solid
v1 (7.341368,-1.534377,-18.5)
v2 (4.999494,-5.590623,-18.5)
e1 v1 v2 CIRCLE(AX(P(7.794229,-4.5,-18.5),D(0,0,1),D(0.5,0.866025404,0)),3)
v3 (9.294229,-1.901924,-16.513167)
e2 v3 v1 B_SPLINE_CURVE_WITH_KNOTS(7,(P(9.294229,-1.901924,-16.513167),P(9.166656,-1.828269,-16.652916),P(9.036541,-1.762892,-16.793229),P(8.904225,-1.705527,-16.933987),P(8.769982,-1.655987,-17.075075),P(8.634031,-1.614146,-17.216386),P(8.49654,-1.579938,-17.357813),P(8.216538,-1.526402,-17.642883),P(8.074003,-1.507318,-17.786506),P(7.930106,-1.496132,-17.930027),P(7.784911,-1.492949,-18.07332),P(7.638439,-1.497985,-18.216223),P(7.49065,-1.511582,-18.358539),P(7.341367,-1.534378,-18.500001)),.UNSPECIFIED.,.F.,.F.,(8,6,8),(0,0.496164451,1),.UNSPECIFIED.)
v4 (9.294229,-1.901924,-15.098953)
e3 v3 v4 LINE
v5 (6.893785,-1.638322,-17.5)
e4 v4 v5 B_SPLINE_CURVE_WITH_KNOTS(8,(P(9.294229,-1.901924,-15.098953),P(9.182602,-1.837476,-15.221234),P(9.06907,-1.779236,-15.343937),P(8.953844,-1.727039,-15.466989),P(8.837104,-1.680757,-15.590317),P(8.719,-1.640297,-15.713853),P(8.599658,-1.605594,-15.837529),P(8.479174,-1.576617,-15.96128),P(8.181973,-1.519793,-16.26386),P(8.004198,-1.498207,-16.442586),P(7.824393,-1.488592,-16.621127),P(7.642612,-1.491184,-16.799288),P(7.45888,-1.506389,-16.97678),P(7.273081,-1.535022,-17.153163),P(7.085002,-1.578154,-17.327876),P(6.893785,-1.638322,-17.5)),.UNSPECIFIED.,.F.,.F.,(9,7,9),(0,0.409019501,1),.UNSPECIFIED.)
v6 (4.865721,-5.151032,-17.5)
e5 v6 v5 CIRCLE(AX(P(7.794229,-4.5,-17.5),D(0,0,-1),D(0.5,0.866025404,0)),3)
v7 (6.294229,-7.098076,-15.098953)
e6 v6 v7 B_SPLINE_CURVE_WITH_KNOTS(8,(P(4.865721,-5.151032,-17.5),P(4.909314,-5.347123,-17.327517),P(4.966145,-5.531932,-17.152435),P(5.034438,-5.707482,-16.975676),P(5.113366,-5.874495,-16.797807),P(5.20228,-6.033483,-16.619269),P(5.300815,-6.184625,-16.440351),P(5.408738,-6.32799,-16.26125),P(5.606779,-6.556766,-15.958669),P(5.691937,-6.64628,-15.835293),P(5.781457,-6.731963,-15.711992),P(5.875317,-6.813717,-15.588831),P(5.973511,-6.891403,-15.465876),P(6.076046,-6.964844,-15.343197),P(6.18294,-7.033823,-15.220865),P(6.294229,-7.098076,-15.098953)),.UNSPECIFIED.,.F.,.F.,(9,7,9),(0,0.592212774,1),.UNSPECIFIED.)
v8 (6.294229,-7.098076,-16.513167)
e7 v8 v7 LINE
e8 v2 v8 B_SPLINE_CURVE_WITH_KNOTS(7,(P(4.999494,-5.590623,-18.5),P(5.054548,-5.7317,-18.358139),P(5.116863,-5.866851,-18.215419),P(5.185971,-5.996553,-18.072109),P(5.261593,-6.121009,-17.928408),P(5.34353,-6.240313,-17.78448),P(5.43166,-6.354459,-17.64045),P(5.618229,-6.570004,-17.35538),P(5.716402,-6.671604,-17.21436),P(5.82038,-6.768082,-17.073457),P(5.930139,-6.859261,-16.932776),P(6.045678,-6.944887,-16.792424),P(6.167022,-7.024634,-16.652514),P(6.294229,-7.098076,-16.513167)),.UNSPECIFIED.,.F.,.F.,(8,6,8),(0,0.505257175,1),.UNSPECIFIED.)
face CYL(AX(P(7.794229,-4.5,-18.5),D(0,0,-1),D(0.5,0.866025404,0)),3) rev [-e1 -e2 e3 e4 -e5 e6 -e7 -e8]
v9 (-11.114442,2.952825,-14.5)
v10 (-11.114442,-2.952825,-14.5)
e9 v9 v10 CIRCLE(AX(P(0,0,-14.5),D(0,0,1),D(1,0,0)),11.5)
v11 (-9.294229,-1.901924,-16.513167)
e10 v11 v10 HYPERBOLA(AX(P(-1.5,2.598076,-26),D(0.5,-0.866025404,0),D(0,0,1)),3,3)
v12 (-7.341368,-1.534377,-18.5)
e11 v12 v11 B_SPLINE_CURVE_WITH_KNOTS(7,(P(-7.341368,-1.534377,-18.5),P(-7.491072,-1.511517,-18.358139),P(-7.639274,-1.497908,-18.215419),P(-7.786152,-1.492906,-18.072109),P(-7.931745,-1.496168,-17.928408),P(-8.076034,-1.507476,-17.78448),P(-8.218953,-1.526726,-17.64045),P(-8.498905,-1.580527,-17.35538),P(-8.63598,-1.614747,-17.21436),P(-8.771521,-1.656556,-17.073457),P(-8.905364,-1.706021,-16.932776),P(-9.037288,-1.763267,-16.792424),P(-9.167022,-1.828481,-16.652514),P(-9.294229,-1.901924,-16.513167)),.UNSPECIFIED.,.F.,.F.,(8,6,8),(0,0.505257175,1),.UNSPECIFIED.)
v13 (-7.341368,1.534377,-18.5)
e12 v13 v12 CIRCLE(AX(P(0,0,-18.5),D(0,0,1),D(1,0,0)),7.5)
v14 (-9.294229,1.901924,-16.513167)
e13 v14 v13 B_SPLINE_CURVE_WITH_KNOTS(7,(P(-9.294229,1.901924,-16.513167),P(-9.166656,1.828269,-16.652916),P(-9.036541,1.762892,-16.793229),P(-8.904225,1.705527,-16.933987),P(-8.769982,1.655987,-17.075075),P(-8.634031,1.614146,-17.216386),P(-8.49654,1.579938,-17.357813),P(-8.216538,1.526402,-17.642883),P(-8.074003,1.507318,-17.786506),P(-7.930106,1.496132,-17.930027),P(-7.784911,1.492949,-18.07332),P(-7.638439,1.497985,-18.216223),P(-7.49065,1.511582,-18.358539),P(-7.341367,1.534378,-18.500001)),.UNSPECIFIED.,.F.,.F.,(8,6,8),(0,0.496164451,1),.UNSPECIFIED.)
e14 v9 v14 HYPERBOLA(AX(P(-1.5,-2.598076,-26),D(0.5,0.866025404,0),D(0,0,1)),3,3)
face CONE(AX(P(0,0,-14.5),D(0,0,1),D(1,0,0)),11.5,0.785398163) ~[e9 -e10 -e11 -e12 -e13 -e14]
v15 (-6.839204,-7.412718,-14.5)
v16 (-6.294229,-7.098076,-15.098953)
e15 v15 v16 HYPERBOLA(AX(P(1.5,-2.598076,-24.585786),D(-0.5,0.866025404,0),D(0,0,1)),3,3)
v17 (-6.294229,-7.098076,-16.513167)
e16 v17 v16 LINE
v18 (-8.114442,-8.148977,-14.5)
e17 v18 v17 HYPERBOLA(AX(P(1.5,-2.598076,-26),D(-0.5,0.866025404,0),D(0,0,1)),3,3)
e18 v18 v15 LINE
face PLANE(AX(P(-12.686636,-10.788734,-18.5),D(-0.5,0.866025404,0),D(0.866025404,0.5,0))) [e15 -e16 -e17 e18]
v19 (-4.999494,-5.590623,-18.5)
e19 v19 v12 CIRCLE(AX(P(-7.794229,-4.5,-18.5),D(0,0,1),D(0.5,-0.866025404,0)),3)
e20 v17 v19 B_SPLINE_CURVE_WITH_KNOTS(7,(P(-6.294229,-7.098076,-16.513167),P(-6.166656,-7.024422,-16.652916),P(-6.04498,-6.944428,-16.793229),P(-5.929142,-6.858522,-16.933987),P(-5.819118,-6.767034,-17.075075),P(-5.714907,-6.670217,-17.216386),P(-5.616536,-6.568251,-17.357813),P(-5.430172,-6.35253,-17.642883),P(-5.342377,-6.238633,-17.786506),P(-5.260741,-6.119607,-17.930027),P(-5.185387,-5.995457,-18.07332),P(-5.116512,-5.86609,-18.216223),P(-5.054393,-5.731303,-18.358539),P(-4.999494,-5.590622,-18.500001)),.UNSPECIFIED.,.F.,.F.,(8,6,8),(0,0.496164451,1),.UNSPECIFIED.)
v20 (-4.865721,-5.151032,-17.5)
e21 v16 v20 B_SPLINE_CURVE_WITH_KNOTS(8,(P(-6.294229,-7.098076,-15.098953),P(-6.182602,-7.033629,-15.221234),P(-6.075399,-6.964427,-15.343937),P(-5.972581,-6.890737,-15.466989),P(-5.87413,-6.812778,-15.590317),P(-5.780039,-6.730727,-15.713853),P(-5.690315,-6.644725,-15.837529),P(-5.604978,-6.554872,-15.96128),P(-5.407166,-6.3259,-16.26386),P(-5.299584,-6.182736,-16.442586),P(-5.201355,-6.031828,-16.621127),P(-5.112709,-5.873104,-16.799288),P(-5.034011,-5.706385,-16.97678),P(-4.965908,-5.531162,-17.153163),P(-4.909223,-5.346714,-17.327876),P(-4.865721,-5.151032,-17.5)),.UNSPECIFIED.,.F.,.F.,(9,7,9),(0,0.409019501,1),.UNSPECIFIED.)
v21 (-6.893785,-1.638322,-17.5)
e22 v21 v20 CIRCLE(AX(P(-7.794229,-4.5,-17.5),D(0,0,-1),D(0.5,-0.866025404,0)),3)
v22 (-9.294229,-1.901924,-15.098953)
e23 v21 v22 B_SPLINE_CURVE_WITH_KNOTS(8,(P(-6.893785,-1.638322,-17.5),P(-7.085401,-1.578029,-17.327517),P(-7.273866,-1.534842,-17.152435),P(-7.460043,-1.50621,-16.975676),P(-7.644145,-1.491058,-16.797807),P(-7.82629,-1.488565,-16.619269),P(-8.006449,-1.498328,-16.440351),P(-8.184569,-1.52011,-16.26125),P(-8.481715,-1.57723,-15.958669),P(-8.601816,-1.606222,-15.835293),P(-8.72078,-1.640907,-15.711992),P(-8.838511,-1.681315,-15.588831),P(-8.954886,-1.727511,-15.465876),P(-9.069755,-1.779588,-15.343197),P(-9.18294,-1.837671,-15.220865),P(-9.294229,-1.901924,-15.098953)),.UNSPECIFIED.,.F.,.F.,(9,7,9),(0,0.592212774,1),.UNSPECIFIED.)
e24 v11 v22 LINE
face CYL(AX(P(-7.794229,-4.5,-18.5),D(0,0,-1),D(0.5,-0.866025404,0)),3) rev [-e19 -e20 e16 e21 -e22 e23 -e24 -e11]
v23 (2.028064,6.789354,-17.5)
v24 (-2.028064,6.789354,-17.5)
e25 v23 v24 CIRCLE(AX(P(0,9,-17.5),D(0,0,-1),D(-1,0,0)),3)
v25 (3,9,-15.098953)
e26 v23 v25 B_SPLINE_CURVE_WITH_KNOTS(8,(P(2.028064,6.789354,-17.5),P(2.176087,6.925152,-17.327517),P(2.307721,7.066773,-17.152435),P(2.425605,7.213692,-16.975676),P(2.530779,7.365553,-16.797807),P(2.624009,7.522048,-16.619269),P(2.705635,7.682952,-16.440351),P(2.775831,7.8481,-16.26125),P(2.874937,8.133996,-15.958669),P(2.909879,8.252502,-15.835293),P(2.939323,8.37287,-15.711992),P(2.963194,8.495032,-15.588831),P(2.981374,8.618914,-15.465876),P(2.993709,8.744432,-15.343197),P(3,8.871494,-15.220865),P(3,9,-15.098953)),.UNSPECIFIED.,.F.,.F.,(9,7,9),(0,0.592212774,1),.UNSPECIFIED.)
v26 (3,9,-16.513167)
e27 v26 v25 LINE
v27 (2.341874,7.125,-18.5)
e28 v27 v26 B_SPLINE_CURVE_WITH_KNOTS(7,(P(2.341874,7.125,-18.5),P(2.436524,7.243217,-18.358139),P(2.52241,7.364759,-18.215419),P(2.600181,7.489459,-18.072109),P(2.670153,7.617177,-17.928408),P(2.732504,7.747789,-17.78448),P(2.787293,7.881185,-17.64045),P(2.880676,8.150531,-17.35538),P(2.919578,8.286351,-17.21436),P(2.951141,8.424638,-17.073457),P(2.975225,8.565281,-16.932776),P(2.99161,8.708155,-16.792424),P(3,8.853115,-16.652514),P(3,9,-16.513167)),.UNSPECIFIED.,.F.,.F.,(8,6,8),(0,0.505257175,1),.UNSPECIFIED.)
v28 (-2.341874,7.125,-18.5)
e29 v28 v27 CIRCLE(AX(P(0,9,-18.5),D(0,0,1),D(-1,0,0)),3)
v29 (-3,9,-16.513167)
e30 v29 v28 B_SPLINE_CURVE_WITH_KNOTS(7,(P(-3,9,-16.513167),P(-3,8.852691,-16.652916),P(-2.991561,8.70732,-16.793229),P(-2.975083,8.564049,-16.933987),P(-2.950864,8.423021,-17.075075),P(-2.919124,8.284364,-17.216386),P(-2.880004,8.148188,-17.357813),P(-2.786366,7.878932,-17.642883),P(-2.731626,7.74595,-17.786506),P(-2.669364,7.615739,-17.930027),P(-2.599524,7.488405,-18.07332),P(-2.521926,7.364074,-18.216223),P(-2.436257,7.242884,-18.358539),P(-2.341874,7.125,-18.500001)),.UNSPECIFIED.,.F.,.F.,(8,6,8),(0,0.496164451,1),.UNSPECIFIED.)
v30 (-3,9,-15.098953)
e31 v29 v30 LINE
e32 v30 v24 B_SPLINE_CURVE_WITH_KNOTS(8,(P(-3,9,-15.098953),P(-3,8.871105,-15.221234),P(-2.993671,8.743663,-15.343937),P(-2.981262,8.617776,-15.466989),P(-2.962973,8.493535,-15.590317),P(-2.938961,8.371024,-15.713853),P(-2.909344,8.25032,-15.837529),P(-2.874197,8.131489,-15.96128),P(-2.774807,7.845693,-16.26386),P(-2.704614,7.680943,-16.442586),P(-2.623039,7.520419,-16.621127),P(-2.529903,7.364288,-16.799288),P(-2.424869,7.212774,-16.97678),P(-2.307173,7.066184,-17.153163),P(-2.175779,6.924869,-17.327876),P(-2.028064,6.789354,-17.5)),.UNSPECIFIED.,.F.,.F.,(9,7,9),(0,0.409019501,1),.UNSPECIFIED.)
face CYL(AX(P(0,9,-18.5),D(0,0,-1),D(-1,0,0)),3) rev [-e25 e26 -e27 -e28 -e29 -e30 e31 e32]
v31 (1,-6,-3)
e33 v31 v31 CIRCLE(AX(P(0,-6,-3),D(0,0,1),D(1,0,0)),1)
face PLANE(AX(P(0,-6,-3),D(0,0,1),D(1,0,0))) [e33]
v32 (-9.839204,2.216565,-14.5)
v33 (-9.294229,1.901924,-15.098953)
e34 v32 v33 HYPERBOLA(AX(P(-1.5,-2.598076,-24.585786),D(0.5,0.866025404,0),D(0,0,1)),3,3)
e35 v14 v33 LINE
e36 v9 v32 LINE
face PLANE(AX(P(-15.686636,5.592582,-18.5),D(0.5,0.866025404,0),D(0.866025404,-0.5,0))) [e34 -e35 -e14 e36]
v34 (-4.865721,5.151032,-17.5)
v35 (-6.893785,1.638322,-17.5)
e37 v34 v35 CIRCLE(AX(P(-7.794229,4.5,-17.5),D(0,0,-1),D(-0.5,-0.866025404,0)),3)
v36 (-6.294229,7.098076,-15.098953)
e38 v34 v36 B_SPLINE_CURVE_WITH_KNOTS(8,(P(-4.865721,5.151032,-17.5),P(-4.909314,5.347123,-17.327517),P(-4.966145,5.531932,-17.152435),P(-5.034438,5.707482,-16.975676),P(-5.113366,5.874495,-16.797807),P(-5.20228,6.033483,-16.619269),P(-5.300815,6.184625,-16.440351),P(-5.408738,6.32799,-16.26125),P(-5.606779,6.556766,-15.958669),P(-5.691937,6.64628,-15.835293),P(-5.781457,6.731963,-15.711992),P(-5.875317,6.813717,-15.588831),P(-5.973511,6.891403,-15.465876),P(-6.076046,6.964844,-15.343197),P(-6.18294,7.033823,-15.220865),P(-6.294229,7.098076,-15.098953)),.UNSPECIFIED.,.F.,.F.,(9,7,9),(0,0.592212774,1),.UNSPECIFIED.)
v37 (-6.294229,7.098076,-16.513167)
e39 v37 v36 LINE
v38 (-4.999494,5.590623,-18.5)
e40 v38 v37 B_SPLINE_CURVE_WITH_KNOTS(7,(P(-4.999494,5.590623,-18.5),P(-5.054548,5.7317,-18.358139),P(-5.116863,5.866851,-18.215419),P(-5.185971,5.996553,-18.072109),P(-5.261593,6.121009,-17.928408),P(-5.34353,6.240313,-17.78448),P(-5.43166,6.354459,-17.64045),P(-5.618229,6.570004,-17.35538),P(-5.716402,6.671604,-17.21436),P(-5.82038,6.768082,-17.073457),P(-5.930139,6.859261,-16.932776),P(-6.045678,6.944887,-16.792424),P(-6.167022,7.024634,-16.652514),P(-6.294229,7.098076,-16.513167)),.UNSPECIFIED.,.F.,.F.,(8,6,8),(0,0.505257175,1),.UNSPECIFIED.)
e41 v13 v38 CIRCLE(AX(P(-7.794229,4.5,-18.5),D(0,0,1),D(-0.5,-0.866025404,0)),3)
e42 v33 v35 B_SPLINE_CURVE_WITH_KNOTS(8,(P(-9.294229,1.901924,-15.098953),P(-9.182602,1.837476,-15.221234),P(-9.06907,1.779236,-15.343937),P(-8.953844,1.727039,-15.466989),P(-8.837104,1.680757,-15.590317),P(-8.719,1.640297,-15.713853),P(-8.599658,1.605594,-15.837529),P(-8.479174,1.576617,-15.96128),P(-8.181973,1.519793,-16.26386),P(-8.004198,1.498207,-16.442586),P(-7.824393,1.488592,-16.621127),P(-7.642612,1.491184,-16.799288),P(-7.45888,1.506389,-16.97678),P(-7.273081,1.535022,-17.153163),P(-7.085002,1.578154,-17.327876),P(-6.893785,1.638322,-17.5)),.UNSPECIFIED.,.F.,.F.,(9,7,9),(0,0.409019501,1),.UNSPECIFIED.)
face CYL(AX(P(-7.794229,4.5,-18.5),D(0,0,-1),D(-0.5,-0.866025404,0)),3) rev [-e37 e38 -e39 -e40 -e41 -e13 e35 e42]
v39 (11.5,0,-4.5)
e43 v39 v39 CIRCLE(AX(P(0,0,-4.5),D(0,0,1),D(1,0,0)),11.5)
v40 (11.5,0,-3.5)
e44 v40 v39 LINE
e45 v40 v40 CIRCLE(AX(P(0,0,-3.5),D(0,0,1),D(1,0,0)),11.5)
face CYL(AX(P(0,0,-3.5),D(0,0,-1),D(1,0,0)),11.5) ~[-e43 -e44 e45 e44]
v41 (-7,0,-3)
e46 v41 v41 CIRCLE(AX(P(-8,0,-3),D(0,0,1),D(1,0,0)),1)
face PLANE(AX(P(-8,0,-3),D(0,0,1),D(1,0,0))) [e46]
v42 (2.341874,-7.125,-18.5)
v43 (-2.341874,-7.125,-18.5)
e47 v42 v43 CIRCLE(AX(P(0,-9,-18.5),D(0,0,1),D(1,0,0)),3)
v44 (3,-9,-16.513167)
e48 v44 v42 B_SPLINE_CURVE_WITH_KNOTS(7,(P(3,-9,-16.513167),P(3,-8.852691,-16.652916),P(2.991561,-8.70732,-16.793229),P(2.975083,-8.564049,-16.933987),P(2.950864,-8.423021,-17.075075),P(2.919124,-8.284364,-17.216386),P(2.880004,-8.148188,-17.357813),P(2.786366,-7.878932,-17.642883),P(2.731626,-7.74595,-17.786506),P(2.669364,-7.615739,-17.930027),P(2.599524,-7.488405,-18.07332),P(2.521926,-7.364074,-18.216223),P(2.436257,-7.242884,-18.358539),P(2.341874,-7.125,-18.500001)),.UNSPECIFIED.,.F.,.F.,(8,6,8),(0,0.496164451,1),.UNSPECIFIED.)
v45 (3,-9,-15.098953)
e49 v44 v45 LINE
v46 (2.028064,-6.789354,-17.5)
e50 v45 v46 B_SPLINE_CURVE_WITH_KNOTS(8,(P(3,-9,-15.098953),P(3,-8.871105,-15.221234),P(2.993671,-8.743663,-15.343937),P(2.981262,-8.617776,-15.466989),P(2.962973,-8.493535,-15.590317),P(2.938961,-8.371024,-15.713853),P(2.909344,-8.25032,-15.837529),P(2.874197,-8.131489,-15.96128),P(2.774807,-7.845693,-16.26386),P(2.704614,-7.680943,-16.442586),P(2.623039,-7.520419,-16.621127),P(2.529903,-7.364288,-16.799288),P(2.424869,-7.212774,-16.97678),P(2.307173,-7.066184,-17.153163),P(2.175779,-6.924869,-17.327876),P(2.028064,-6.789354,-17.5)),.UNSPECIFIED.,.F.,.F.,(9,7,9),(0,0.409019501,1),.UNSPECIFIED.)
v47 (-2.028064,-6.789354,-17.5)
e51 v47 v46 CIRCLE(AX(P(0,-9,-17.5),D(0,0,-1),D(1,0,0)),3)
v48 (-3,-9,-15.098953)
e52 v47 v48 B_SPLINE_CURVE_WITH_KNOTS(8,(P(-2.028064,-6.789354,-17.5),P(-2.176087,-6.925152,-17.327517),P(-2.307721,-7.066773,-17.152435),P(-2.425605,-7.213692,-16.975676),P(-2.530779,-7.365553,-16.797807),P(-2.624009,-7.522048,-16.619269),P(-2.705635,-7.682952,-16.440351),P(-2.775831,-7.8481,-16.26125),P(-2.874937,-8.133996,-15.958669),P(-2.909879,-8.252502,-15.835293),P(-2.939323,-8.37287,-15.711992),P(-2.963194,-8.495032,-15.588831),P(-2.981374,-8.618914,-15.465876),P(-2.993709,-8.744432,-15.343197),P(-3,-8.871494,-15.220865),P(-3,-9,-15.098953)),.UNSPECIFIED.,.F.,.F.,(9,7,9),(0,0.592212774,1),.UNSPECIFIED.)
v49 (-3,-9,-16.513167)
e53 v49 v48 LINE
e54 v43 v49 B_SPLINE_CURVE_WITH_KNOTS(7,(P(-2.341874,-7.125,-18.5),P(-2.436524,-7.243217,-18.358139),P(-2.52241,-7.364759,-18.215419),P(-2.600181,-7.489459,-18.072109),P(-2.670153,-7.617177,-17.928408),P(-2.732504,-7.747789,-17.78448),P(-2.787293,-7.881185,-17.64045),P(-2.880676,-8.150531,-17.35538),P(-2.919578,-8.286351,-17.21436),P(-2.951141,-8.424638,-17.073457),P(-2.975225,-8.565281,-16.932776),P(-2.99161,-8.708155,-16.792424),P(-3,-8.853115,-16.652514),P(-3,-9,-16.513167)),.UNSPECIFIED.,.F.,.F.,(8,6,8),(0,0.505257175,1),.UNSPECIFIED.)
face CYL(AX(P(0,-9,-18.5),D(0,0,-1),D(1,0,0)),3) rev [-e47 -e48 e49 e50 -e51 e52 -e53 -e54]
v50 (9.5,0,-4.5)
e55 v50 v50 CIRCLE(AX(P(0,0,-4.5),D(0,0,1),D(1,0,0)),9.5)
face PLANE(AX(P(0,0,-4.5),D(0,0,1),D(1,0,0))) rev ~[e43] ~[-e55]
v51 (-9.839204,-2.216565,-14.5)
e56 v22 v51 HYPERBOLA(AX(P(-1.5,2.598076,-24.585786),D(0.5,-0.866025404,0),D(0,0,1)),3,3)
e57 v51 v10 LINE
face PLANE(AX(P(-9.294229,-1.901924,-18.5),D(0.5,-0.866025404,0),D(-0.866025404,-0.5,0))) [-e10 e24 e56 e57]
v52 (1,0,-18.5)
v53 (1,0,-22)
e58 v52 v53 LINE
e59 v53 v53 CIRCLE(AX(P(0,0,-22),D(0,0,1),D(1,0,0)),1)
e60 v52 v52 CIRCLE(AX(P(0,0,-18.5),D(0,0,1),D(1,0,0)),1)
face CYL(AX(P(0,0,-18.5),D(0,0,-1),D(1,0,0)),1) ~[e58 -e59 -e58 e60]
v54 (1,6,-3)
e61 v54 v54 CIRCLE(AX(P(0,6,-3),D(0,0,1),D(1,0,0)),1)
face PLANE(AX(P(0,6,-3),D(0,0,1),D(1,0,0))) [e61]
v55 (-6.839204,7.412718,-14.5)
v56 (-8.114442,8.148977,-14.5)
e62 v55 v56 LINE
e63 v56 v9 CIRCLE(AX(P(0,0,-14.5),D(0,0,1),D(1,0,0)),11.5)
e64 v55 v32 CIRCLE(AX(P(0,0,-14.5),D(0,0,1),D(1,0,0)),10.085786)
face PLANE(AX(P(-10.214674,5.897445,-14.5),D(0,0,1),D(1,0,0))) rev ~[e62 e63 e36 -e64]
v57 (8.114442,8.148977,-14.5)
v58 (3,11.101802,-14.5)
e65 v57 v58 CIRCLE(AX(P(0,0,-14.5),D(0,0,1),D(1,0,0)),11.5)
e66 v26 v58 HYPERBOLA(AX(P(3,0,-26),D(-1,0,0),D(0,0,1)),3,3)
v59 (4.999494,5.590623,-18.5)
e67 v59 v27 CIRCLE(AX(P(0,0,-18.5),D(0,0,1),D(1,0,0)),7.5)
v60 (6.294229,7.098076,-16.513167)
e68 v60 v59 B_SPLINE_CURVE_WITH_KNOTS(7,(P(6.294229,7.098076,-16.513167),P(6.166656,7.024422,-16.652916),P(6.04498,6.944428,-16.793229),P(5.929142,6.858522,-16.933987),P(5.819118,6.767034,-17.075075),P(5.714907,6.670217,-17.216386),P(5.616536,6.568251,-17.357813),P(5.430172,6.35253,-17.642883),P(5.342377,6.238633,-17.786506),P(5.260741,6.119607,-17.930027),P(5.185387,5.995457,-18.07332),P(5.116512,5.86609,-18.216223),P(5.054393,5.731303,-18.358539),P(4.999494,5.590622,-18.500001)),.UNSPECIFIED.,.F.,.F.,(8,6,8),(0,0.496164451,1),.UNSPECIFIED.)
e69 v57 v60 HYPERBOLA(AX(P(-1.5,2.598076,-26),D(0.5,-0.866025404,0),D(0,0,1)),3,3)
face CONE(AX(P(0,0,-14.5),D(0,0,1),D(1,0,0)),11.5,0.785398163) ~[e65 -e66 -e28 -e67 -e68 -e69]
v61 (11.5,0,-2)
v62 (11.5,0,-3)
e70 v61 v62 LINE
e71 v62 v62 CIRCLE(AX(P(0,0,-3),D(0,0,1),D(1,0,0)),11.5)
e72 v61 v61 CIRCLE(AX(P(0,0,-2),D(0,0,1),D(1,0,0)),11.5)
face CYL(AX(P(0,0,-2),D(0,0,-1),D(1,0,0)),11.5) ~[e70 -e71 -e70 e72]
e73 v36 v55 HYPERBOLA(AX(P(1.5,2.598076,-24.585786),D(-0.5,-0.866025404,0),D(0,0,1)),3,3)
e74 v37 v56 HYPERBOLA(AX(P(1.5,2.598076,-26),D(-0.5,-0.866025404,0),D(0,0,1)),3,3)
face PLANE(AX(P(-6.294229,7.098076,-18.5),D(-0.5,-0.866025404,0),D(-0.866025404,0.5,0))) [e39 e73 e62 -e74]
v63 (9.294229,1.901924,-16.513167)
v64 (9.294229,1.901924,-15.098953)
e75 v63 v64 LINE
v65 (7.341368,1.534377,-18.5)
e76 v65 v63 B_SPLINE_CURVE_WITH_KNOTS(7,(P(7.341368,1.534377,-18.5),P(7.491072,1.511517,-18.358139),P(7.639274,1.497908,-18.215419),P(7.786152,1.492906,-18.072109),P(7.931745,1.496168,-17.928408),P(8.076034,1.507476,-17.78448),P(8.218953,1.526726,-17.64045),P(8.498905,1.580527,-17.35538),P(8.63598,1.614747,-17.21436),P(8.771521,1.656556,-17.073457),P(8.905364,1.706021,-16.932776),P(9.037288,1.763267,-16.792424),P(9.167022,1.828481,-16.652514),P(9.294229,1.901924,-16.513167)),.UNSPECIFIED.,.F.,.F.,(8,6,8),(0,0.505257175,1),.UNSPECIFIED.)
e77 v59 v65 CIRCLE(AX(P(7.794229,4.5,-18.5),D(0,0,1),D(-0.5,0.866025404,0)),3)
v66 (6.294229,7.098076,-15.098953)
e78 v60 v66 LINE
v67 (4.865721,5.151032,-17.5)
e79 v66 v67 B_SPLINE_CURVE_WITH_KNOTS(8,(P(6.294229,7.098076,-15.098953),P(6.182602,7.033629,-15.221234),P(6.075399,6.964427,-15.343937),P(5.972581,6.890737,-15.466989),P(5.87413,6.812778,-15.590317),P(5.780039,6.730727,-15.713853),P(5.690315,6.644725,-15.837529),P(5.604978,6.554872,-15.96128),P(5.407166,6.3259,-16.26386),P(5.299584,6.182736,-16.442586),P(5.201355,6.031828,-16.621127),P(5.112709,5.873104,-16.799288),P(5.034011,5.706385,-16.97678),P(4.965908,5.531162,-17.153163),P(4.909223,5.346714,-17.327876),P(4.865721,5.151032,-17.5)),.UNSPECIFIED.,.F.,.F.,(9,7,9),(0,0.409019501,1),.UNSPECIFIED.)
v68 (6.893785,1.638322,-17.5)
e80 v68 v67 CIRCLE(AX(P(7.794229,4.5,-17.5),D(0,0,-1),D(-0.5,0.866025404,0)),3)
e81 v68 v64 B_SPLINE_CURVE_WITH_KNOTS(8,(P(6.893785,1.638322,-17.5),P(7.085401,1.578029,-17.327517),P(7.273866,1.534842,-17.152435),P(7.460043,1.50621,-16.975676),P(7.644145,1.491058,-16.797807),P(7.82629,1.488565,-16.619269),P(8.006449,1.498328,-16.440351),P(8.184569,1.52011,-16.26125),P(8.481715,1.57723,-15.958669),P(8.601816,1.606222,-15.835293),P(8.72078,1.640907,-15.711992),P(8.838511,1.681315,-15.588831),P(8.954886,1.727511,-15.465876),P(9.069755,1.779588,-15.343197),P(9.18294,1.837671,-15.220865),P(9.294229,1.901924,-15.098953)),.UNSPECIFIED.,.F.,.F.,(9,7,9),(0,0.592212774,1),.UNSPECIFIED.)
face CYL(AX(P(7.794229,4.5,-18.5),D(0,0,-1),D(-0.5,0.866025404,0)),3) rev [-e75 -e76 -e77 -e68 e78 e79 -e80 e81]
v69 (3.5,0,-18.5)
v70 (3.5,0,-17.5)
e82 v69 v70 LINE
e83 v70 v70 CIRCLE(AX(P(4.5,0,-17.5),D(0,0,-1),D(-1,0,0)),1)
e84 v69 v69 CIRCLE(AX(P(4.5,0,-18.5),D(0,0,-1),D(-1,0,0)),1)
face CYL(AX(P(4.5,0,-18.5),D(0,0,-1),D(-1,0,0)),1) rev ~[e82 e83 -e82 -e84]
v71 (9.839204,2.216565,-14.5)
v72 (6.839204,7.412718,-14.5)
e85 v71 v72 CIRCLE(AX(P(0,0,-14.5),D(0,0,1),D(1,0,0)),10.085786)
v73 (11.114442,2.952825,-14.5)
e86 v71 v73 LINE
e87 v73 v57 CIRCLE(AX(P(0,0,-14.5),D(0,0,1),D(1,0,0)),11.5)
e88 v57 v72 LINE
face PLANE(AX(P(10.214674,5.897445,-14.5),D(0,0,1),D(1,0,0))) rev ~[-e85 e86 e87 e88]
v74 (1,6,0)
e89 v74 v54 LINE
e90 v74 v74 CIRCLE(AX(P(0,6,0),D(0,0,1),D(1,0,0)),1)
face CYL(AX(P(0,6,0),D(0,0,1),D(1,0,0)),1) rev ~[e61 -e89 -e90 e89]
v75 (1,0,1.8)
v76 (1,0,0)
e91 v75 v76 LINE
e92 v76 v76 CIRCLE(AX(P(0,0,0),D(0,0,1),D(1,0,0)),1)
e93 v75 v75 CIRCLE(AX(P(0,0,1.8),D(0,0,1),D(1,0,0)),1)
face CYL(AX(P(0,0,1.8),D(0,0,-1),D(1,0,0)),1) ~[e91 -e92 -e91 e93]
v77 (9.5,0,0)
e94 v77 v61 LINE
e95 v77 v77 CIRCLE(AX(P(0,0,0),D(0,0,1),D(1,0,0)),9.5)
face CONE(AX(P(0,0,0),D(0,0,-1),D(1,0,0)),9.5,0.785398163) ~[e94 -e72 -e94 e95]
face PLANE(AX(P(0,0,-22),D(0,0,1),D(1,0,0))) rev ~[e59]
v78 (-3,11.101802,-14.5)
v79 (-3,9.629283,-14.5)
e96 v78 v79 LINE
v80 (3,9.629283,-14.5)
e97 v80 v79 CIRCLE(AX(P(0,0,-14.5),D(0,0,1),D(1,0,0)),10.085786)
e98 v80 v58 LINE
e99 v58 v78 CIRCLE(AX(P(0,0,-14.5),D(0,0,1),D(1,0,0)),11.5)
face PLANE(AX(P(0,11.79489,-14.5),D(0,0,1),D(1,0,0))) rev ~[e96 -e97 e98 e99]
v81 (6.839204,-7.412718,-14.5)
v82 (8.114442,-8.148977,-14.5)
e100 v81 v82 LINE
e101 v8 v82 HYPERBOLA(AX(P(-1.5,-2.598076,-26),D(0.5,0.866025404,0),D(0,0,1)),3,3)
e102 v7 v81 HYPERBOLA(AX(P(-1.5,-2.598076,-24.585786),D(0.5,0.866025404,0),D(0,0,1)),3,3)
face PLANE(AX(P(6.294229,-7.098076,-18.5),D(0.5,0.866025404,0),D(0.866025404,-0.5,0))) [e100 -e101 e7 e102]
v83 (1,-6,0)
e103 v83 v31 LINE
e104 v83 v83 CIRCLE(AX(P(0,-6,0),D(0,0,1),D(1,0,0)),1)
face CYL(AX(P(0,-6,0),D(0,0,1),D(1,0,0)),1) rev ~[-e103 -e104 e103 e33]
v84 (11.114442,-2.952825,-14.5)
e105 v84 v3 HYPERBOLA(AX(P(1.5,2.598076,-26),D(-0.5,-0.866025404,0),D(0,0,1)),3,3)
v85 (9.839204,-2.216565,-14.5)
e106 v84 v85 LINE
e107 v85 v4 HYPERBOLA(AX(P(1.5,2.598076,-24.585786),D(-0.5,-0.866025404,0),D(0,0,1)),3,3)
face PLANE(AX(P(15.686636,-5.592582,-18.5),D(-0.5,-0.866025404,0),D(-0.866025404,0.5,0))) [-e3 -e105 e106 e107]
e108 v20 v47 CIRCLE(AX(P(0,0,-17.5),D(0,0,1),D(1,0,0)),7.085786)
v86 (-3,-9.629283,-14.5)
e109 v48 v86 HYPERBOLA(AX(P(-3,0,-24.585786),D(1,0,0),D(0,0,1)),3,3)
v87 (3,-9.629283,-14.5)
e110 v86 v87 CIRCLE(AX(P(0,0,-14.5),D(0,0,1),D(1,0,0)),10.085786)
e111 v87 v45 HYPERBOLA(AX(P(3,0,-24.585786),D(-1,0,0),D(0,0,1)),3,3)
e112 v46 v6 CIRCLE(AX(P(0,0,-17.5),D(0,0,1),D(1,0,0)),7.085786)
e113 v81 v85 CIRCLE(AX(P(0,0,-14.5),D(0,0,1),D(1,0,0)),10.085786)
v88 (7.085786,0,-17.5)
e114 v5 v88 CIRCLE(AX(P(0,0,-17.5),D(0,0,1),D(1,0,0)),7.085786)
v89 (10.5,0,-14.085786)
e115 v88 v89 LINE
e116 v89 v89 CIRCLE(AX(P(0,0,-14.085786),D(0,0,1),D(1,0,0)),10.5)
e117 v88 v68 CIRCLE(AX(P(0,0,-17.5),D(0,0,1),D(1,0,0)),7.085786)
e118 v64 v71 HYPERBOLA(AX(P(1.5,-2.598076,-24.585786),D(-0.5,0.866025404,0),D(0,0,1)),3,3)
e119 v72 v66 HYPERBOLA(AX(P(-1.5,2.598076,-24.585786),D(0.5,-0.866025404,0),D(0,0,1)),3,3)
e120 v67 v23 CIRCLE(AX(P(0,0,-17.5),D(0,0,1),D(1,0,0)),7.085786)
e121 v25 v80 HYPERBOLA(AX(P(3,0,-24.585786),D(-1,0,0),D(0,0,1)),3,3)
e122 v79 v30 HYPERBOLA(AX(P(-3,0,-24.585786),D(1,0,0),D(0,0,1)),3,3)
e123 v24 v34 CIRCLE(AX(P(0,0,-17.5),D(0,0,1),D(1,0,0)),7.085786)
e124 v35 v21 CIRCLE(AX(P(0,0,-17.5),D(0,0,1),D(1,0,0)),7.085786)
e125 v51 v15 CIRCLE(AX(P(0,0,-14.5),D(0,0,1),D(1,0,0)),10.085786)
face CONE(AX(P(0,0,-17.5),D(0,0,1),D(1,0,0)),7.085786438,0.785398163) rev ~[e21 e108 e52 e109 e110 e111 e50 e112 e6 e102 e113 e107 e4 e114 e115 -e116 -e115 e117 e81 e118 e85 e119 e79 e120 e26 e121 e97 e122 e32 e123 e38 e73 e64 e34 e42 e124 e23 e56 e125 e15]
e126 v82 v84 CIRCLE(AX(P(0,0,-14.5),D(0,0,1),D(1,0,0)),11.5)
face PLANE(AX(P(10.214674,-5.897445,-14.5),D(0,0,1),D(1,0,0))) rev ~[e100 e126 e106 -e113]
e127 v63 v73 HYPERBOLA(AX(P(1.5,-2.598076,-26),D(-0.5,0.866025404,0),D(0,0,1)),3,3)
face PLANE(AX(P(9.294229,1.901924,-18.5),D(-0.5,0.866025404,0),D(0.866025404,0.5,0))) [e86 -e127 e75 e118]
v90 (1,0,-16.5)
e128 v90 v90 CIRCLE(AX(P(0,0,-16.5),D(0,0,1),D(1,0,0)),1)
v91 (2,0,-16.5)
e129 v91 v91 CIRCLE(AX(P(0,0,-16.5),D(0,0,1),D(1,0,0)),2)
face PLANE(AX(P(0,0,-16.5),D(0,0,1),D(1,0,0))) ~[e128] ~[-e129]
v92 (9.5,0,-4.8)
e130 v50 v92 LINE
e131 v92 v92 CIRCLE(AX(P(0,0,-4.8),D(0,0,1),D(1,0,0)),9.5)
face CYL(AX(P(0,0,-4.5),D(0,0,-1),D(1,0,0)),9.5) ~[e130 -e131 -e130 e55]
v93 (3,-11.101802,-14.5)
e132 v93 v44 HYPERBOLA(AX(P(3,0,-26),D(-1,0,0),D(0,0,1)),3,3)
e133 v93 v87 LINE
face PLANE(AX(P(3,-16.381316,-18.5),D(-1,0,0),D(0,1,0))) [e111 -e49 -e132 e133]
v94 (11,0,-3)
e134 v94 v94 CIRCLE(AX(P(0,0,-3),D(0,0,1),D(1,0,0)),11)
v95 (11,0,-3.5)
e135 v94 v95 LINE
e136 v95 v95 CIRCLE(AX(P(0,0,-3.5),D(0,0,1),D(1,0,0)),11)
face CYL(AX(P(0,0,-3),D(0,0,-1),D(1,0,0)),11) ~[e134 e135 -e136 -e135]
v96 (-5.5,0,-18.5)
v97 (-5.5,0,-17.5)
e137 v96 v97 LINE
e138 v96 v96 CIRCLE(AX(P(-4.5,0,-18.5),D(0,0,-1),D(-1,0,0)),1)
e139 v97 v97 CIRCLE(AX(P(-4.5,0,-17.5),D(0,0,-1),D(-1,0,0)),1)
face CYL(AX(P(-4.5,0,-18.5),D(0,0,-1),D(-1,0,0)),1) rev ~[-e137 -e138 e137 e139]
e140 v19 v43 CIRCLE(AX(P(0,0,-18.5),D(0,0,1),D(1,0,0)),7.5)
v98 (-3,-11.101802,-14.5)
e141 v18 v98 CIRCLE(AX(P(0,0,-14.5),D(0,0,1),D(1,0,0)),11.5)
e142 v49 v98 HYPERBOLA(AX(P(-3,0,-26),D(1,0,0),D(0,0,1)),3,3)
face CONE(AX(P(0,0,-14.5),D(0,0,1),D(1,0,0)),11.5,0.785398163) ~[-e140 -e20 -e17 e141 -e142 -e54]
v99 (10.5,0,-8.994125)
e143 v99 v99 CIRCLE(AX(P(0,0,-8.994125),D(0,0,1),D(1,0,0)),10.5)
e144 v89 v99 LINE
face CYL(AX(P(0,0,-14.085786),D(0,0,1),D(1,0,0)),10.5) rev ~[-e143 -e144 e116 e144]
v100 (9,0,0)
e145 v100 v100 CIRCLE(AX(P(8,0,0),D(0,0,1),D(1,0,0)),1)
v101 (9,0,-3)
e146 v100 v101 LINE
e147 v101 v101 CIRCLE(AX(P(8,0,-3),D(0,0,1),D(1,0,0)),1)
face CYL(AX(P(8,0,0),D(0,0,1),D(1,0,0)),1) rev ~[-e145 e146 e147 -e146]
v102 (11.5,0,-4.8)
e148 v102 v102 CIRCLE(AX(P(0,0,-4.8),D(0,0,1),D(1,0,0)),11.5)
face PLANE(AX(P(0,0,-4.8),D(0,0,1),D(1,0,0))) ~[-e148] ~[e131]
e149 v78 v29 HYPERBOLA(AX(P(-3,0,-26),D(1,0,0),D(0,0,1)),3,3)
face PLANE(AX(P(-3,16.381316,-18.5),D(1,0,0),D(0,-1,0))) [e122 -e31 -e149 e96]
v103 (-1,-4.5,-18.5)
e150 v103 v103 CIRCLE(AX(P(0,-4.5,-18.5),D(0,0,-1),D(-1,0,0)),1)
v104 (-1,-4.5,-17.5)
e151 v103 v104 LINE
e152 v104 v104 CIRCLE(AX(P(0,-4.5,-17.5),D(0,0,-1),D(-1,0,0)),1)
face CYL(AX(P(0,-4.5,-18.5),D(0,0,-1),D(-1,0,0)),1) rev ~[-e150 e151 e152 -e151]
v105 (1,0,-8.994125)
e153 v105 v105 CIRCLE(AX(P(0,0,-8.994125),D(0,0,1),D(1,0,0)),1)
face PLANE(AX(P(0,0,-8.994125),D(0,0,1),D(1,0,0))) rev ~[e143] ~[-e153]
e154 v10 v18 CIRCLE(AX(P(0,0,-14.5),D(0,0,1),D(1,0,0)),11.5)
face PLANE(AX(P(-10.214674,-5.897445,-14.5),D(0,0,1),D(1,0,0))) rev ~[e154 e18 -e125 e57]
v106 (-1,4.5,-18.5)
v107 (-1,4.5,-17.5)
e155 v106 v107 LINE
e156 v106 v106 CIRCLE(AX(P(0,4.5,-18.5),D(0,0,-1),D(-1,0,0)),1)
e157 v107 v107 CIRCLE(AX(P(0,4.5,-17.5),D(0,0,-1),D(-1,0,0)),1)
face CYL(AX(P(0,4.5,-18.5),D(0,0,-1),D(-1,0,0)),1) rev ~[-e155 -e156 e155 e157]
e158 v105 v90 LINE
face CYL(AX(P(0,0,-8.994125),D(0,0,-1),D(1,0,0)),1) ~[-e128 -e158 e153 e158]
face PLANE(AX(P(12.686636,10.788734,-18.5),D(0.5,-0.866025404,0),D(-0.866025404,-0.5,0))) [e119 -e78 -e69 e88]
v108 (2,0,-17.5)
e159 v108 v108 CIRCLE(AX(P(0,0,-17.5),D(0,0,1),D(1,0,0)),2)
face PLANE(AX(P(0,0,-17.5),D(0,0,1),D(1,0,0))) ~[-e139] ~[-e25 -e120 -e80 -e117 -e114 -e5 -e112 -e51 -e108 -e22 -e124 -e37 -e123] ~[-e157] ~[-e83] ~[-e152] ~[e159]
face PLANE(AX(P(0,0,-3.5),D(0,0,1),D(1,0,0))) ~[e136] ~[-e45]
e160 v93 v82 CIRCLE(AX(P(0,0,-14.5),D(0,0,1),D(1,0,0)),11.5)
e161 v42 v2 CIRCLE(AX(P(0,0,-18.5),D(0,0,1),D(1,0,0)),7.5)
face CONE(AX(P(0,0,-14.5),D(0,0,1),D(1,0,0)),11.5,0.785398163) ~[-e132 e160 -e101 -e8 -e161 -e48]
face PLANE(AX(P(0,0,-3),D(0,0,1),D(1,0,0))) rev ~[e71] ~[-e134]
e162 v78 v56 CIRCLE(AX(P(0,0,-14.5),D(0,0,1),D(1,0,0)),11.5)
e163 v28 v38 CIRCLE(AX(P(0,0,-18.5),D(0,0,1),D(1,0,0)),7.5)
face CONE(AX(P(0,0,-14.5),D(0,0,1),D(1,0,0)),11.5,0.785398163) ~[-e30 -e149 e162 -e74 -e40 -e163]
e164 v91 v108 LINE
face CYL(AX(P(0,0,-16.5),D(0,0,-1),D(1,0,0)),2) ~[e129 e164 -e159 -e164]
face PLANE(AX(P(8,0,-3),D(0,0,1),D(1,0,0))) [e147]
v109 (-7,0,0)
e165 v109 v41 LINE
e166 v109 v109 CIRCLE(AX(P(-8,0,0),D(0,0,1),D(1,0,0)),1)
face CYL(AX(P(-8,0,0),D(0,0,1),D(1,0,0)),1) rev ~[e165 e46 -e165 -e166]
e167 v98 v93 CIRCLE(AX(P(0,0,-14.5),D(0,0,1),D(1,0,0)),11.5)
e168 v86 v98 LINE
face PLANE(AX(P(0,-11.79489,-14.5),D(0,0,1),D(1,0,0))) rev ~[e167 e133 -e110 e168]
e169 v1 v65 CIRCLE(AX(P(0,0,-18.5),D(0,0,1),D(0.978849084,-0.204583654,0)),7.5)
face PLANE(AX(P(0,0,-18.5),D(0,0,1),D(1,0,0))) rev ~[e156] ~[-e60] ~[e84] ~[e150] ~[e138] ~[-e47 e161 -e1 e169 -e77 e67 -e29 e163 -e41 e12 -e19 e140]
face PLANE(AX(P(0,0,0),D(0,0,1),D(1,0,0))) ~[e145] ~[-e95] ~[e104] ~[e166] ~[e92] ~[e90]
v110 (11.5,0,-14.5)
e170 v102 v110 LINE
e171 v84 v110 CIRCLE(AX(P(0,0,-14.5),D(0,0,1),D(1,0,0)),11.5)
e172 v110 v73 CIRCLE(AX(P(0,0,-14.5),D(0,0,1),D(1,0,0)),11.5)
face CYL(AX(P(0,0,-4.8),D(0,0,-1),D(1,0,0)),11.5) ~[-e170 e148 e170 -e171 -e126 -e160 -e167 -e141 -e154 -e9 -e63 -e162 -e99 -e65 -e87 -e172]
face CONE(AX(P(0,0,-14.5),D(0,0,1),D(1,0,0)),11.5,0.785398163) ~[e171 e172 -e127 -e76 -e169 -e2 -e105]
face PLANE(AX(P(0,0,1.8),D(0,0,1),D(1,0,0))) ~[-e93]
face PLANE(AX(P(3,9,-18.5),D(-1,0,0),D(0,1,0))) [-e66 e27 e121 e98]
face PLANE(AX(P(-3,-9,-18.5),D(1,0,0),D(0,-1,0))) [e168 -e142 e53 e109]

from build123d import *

# Parameters (mm, degrees)
SKETCH3_R          = 1
CUT_EXTRUDE1_DEPTH = 4
SKETCH4_R          = 1
CUT_EXTRUDE2_DEPTH = 3


with BuildPart() as part:
    # Sketch2 → Revolve3 (revolve)
    with BuildSketch(Plane(origin=(0, 0, 0), x_dir=(1, 0, 0), z_dir=(0, 1, 0))):
        Polygon((0, 22), (0, -1.8), (1, -1.8), (1, 0), (9.5, 0), (11.5, 2), (11.5, 3), (11, 3), (11, 3.5), (11.5, 3.5), (11.5, 4.5), (9.5, 4.5), (9.5, 4.8), (11.5, 4.8), (11.5, 14.5), (7.5, 18.5), (1, 18.5), (1, 22), align=None)
        Polygon((2, 17.5), (7.085786438, 17.5), (10.5, 14.085786438), (10.5, 8.994124711), (1, 8.994124711), (1, 16.5), (2, 16.5), align=None, mode=Mode.SUBTRACT)
    revolve(axis=Axis((0, 0, -22), (0, 0, 1)))

    # Sketch3 → Cut-Extrude1 (cut)
    with BuildSketch(Plane(origin=(0, 0, -18.5), x_dir=(-1, 0, 0), z_dir=(0, 0, -1))):
        with Locations((0, 4.5)):
            Circle(SKETCH3_R)
        with Locations((4.5, 0)):
            Circle(SKETCH3_R)
        with Locations((0, -4.5)):
            Circle(SKETCH3_R)
        with Locations((-4.5, 0)):
            Circle(SKETCH3_R)
        with BuildLine():
            Line((-3, 9), (-3, 16.381316394))
            Line((-3, 16.381316394), (3, 16.381316394))
            Line((3, 16.381316394), (3, 9))
            ThreePointArc((3, 9), (0, 6), (-3, 9))
        make_face()
        with BuildLine():
            Line((15.686636144, 5.592581985), (9.294228634, 1.901923789))
            ThreePointArc((9.294228634, 1.901923789), (5.196152423, 3), (6.294228634, 7.098076211))
            Line((6.294228634, 7.098076211), (12.686636144, 10.788734408))
            Line((12.686636144, 10.788734408), (15.686636144, 5.592581985))
        make_face()
        with BuildLine():
            Line((12.686636144, -10.788734408), (6.294228634, -7.098076211))
            ThreePointArc((6.294228634, -7.098076211), (5.196152423, -3), (9.294228634, -1.901923789))
            Line((9.294228634, -1.901923789), (15.686636144, -5.592581985))
            Line((15.686636144, -5.592581985), (12.686636144, -10.788734408))
        make_face()
        with BuildLine():
            Line((-3, -16.381316394), (-3, -9))
            ThreePointArc((-3, -9), (0, -6), (3, -9))
            Line((3, -9), (3, -16.381316394))
            Line((3, -16.381316394), (-3, -16.381316394))
        make_face()
        with BuildLine():
            Line((-15.686636144, -5.592581985), (-9.294228634, -1.901923789))
            ThreePointArc((-9.294228634, -1.901923789), (-5.196152423, -3), (-6.294228634, -7.098076211))
            Line((-6.294228634, -7.098076211), (-12.686636144, -10.788734408))
            Line((-12.686636144, -10.788734408), (-15.686636144, -5.592581985))
        make_face()
        with BuildLine():
            Line((-12.686636144, 10.788734408), (-6.294228634, 7.098076211))
            ThreePointArc((-6.294228634, 7.098076211), (-5.196152423, 3), (-9.294228634, 1.901923789))
            Line((-9.294228634, 1.901923789), (-15.686636144, 5.592581985))
            Line((-15.686636144, 5.592581985), (-12.686636144, 10.788734408))
        make_face()
    extrude(amount=-CUT_EXTRUDE1_DEPTH, mode=Mode.SUBTRACT)

    # Sketch4 → Cut-Extrude2 (cut)
    with BuildSketch(Plane.XY):
        with Locations((0, 6)):
            Circle(SKETCH4_R)
        with Locations((0, -6)):
            Circle(SKETCH4_R)
        with Locations((8, 0)):
            Circle(SKETCH4_R)
        with Locations((-8, 0)):
            Circle(SKETCH4_R)
    extrude(amount=-CUT_EXTRUDE2_DEPTH, mode=Mode.SUBTRACT)


solid = part.part
